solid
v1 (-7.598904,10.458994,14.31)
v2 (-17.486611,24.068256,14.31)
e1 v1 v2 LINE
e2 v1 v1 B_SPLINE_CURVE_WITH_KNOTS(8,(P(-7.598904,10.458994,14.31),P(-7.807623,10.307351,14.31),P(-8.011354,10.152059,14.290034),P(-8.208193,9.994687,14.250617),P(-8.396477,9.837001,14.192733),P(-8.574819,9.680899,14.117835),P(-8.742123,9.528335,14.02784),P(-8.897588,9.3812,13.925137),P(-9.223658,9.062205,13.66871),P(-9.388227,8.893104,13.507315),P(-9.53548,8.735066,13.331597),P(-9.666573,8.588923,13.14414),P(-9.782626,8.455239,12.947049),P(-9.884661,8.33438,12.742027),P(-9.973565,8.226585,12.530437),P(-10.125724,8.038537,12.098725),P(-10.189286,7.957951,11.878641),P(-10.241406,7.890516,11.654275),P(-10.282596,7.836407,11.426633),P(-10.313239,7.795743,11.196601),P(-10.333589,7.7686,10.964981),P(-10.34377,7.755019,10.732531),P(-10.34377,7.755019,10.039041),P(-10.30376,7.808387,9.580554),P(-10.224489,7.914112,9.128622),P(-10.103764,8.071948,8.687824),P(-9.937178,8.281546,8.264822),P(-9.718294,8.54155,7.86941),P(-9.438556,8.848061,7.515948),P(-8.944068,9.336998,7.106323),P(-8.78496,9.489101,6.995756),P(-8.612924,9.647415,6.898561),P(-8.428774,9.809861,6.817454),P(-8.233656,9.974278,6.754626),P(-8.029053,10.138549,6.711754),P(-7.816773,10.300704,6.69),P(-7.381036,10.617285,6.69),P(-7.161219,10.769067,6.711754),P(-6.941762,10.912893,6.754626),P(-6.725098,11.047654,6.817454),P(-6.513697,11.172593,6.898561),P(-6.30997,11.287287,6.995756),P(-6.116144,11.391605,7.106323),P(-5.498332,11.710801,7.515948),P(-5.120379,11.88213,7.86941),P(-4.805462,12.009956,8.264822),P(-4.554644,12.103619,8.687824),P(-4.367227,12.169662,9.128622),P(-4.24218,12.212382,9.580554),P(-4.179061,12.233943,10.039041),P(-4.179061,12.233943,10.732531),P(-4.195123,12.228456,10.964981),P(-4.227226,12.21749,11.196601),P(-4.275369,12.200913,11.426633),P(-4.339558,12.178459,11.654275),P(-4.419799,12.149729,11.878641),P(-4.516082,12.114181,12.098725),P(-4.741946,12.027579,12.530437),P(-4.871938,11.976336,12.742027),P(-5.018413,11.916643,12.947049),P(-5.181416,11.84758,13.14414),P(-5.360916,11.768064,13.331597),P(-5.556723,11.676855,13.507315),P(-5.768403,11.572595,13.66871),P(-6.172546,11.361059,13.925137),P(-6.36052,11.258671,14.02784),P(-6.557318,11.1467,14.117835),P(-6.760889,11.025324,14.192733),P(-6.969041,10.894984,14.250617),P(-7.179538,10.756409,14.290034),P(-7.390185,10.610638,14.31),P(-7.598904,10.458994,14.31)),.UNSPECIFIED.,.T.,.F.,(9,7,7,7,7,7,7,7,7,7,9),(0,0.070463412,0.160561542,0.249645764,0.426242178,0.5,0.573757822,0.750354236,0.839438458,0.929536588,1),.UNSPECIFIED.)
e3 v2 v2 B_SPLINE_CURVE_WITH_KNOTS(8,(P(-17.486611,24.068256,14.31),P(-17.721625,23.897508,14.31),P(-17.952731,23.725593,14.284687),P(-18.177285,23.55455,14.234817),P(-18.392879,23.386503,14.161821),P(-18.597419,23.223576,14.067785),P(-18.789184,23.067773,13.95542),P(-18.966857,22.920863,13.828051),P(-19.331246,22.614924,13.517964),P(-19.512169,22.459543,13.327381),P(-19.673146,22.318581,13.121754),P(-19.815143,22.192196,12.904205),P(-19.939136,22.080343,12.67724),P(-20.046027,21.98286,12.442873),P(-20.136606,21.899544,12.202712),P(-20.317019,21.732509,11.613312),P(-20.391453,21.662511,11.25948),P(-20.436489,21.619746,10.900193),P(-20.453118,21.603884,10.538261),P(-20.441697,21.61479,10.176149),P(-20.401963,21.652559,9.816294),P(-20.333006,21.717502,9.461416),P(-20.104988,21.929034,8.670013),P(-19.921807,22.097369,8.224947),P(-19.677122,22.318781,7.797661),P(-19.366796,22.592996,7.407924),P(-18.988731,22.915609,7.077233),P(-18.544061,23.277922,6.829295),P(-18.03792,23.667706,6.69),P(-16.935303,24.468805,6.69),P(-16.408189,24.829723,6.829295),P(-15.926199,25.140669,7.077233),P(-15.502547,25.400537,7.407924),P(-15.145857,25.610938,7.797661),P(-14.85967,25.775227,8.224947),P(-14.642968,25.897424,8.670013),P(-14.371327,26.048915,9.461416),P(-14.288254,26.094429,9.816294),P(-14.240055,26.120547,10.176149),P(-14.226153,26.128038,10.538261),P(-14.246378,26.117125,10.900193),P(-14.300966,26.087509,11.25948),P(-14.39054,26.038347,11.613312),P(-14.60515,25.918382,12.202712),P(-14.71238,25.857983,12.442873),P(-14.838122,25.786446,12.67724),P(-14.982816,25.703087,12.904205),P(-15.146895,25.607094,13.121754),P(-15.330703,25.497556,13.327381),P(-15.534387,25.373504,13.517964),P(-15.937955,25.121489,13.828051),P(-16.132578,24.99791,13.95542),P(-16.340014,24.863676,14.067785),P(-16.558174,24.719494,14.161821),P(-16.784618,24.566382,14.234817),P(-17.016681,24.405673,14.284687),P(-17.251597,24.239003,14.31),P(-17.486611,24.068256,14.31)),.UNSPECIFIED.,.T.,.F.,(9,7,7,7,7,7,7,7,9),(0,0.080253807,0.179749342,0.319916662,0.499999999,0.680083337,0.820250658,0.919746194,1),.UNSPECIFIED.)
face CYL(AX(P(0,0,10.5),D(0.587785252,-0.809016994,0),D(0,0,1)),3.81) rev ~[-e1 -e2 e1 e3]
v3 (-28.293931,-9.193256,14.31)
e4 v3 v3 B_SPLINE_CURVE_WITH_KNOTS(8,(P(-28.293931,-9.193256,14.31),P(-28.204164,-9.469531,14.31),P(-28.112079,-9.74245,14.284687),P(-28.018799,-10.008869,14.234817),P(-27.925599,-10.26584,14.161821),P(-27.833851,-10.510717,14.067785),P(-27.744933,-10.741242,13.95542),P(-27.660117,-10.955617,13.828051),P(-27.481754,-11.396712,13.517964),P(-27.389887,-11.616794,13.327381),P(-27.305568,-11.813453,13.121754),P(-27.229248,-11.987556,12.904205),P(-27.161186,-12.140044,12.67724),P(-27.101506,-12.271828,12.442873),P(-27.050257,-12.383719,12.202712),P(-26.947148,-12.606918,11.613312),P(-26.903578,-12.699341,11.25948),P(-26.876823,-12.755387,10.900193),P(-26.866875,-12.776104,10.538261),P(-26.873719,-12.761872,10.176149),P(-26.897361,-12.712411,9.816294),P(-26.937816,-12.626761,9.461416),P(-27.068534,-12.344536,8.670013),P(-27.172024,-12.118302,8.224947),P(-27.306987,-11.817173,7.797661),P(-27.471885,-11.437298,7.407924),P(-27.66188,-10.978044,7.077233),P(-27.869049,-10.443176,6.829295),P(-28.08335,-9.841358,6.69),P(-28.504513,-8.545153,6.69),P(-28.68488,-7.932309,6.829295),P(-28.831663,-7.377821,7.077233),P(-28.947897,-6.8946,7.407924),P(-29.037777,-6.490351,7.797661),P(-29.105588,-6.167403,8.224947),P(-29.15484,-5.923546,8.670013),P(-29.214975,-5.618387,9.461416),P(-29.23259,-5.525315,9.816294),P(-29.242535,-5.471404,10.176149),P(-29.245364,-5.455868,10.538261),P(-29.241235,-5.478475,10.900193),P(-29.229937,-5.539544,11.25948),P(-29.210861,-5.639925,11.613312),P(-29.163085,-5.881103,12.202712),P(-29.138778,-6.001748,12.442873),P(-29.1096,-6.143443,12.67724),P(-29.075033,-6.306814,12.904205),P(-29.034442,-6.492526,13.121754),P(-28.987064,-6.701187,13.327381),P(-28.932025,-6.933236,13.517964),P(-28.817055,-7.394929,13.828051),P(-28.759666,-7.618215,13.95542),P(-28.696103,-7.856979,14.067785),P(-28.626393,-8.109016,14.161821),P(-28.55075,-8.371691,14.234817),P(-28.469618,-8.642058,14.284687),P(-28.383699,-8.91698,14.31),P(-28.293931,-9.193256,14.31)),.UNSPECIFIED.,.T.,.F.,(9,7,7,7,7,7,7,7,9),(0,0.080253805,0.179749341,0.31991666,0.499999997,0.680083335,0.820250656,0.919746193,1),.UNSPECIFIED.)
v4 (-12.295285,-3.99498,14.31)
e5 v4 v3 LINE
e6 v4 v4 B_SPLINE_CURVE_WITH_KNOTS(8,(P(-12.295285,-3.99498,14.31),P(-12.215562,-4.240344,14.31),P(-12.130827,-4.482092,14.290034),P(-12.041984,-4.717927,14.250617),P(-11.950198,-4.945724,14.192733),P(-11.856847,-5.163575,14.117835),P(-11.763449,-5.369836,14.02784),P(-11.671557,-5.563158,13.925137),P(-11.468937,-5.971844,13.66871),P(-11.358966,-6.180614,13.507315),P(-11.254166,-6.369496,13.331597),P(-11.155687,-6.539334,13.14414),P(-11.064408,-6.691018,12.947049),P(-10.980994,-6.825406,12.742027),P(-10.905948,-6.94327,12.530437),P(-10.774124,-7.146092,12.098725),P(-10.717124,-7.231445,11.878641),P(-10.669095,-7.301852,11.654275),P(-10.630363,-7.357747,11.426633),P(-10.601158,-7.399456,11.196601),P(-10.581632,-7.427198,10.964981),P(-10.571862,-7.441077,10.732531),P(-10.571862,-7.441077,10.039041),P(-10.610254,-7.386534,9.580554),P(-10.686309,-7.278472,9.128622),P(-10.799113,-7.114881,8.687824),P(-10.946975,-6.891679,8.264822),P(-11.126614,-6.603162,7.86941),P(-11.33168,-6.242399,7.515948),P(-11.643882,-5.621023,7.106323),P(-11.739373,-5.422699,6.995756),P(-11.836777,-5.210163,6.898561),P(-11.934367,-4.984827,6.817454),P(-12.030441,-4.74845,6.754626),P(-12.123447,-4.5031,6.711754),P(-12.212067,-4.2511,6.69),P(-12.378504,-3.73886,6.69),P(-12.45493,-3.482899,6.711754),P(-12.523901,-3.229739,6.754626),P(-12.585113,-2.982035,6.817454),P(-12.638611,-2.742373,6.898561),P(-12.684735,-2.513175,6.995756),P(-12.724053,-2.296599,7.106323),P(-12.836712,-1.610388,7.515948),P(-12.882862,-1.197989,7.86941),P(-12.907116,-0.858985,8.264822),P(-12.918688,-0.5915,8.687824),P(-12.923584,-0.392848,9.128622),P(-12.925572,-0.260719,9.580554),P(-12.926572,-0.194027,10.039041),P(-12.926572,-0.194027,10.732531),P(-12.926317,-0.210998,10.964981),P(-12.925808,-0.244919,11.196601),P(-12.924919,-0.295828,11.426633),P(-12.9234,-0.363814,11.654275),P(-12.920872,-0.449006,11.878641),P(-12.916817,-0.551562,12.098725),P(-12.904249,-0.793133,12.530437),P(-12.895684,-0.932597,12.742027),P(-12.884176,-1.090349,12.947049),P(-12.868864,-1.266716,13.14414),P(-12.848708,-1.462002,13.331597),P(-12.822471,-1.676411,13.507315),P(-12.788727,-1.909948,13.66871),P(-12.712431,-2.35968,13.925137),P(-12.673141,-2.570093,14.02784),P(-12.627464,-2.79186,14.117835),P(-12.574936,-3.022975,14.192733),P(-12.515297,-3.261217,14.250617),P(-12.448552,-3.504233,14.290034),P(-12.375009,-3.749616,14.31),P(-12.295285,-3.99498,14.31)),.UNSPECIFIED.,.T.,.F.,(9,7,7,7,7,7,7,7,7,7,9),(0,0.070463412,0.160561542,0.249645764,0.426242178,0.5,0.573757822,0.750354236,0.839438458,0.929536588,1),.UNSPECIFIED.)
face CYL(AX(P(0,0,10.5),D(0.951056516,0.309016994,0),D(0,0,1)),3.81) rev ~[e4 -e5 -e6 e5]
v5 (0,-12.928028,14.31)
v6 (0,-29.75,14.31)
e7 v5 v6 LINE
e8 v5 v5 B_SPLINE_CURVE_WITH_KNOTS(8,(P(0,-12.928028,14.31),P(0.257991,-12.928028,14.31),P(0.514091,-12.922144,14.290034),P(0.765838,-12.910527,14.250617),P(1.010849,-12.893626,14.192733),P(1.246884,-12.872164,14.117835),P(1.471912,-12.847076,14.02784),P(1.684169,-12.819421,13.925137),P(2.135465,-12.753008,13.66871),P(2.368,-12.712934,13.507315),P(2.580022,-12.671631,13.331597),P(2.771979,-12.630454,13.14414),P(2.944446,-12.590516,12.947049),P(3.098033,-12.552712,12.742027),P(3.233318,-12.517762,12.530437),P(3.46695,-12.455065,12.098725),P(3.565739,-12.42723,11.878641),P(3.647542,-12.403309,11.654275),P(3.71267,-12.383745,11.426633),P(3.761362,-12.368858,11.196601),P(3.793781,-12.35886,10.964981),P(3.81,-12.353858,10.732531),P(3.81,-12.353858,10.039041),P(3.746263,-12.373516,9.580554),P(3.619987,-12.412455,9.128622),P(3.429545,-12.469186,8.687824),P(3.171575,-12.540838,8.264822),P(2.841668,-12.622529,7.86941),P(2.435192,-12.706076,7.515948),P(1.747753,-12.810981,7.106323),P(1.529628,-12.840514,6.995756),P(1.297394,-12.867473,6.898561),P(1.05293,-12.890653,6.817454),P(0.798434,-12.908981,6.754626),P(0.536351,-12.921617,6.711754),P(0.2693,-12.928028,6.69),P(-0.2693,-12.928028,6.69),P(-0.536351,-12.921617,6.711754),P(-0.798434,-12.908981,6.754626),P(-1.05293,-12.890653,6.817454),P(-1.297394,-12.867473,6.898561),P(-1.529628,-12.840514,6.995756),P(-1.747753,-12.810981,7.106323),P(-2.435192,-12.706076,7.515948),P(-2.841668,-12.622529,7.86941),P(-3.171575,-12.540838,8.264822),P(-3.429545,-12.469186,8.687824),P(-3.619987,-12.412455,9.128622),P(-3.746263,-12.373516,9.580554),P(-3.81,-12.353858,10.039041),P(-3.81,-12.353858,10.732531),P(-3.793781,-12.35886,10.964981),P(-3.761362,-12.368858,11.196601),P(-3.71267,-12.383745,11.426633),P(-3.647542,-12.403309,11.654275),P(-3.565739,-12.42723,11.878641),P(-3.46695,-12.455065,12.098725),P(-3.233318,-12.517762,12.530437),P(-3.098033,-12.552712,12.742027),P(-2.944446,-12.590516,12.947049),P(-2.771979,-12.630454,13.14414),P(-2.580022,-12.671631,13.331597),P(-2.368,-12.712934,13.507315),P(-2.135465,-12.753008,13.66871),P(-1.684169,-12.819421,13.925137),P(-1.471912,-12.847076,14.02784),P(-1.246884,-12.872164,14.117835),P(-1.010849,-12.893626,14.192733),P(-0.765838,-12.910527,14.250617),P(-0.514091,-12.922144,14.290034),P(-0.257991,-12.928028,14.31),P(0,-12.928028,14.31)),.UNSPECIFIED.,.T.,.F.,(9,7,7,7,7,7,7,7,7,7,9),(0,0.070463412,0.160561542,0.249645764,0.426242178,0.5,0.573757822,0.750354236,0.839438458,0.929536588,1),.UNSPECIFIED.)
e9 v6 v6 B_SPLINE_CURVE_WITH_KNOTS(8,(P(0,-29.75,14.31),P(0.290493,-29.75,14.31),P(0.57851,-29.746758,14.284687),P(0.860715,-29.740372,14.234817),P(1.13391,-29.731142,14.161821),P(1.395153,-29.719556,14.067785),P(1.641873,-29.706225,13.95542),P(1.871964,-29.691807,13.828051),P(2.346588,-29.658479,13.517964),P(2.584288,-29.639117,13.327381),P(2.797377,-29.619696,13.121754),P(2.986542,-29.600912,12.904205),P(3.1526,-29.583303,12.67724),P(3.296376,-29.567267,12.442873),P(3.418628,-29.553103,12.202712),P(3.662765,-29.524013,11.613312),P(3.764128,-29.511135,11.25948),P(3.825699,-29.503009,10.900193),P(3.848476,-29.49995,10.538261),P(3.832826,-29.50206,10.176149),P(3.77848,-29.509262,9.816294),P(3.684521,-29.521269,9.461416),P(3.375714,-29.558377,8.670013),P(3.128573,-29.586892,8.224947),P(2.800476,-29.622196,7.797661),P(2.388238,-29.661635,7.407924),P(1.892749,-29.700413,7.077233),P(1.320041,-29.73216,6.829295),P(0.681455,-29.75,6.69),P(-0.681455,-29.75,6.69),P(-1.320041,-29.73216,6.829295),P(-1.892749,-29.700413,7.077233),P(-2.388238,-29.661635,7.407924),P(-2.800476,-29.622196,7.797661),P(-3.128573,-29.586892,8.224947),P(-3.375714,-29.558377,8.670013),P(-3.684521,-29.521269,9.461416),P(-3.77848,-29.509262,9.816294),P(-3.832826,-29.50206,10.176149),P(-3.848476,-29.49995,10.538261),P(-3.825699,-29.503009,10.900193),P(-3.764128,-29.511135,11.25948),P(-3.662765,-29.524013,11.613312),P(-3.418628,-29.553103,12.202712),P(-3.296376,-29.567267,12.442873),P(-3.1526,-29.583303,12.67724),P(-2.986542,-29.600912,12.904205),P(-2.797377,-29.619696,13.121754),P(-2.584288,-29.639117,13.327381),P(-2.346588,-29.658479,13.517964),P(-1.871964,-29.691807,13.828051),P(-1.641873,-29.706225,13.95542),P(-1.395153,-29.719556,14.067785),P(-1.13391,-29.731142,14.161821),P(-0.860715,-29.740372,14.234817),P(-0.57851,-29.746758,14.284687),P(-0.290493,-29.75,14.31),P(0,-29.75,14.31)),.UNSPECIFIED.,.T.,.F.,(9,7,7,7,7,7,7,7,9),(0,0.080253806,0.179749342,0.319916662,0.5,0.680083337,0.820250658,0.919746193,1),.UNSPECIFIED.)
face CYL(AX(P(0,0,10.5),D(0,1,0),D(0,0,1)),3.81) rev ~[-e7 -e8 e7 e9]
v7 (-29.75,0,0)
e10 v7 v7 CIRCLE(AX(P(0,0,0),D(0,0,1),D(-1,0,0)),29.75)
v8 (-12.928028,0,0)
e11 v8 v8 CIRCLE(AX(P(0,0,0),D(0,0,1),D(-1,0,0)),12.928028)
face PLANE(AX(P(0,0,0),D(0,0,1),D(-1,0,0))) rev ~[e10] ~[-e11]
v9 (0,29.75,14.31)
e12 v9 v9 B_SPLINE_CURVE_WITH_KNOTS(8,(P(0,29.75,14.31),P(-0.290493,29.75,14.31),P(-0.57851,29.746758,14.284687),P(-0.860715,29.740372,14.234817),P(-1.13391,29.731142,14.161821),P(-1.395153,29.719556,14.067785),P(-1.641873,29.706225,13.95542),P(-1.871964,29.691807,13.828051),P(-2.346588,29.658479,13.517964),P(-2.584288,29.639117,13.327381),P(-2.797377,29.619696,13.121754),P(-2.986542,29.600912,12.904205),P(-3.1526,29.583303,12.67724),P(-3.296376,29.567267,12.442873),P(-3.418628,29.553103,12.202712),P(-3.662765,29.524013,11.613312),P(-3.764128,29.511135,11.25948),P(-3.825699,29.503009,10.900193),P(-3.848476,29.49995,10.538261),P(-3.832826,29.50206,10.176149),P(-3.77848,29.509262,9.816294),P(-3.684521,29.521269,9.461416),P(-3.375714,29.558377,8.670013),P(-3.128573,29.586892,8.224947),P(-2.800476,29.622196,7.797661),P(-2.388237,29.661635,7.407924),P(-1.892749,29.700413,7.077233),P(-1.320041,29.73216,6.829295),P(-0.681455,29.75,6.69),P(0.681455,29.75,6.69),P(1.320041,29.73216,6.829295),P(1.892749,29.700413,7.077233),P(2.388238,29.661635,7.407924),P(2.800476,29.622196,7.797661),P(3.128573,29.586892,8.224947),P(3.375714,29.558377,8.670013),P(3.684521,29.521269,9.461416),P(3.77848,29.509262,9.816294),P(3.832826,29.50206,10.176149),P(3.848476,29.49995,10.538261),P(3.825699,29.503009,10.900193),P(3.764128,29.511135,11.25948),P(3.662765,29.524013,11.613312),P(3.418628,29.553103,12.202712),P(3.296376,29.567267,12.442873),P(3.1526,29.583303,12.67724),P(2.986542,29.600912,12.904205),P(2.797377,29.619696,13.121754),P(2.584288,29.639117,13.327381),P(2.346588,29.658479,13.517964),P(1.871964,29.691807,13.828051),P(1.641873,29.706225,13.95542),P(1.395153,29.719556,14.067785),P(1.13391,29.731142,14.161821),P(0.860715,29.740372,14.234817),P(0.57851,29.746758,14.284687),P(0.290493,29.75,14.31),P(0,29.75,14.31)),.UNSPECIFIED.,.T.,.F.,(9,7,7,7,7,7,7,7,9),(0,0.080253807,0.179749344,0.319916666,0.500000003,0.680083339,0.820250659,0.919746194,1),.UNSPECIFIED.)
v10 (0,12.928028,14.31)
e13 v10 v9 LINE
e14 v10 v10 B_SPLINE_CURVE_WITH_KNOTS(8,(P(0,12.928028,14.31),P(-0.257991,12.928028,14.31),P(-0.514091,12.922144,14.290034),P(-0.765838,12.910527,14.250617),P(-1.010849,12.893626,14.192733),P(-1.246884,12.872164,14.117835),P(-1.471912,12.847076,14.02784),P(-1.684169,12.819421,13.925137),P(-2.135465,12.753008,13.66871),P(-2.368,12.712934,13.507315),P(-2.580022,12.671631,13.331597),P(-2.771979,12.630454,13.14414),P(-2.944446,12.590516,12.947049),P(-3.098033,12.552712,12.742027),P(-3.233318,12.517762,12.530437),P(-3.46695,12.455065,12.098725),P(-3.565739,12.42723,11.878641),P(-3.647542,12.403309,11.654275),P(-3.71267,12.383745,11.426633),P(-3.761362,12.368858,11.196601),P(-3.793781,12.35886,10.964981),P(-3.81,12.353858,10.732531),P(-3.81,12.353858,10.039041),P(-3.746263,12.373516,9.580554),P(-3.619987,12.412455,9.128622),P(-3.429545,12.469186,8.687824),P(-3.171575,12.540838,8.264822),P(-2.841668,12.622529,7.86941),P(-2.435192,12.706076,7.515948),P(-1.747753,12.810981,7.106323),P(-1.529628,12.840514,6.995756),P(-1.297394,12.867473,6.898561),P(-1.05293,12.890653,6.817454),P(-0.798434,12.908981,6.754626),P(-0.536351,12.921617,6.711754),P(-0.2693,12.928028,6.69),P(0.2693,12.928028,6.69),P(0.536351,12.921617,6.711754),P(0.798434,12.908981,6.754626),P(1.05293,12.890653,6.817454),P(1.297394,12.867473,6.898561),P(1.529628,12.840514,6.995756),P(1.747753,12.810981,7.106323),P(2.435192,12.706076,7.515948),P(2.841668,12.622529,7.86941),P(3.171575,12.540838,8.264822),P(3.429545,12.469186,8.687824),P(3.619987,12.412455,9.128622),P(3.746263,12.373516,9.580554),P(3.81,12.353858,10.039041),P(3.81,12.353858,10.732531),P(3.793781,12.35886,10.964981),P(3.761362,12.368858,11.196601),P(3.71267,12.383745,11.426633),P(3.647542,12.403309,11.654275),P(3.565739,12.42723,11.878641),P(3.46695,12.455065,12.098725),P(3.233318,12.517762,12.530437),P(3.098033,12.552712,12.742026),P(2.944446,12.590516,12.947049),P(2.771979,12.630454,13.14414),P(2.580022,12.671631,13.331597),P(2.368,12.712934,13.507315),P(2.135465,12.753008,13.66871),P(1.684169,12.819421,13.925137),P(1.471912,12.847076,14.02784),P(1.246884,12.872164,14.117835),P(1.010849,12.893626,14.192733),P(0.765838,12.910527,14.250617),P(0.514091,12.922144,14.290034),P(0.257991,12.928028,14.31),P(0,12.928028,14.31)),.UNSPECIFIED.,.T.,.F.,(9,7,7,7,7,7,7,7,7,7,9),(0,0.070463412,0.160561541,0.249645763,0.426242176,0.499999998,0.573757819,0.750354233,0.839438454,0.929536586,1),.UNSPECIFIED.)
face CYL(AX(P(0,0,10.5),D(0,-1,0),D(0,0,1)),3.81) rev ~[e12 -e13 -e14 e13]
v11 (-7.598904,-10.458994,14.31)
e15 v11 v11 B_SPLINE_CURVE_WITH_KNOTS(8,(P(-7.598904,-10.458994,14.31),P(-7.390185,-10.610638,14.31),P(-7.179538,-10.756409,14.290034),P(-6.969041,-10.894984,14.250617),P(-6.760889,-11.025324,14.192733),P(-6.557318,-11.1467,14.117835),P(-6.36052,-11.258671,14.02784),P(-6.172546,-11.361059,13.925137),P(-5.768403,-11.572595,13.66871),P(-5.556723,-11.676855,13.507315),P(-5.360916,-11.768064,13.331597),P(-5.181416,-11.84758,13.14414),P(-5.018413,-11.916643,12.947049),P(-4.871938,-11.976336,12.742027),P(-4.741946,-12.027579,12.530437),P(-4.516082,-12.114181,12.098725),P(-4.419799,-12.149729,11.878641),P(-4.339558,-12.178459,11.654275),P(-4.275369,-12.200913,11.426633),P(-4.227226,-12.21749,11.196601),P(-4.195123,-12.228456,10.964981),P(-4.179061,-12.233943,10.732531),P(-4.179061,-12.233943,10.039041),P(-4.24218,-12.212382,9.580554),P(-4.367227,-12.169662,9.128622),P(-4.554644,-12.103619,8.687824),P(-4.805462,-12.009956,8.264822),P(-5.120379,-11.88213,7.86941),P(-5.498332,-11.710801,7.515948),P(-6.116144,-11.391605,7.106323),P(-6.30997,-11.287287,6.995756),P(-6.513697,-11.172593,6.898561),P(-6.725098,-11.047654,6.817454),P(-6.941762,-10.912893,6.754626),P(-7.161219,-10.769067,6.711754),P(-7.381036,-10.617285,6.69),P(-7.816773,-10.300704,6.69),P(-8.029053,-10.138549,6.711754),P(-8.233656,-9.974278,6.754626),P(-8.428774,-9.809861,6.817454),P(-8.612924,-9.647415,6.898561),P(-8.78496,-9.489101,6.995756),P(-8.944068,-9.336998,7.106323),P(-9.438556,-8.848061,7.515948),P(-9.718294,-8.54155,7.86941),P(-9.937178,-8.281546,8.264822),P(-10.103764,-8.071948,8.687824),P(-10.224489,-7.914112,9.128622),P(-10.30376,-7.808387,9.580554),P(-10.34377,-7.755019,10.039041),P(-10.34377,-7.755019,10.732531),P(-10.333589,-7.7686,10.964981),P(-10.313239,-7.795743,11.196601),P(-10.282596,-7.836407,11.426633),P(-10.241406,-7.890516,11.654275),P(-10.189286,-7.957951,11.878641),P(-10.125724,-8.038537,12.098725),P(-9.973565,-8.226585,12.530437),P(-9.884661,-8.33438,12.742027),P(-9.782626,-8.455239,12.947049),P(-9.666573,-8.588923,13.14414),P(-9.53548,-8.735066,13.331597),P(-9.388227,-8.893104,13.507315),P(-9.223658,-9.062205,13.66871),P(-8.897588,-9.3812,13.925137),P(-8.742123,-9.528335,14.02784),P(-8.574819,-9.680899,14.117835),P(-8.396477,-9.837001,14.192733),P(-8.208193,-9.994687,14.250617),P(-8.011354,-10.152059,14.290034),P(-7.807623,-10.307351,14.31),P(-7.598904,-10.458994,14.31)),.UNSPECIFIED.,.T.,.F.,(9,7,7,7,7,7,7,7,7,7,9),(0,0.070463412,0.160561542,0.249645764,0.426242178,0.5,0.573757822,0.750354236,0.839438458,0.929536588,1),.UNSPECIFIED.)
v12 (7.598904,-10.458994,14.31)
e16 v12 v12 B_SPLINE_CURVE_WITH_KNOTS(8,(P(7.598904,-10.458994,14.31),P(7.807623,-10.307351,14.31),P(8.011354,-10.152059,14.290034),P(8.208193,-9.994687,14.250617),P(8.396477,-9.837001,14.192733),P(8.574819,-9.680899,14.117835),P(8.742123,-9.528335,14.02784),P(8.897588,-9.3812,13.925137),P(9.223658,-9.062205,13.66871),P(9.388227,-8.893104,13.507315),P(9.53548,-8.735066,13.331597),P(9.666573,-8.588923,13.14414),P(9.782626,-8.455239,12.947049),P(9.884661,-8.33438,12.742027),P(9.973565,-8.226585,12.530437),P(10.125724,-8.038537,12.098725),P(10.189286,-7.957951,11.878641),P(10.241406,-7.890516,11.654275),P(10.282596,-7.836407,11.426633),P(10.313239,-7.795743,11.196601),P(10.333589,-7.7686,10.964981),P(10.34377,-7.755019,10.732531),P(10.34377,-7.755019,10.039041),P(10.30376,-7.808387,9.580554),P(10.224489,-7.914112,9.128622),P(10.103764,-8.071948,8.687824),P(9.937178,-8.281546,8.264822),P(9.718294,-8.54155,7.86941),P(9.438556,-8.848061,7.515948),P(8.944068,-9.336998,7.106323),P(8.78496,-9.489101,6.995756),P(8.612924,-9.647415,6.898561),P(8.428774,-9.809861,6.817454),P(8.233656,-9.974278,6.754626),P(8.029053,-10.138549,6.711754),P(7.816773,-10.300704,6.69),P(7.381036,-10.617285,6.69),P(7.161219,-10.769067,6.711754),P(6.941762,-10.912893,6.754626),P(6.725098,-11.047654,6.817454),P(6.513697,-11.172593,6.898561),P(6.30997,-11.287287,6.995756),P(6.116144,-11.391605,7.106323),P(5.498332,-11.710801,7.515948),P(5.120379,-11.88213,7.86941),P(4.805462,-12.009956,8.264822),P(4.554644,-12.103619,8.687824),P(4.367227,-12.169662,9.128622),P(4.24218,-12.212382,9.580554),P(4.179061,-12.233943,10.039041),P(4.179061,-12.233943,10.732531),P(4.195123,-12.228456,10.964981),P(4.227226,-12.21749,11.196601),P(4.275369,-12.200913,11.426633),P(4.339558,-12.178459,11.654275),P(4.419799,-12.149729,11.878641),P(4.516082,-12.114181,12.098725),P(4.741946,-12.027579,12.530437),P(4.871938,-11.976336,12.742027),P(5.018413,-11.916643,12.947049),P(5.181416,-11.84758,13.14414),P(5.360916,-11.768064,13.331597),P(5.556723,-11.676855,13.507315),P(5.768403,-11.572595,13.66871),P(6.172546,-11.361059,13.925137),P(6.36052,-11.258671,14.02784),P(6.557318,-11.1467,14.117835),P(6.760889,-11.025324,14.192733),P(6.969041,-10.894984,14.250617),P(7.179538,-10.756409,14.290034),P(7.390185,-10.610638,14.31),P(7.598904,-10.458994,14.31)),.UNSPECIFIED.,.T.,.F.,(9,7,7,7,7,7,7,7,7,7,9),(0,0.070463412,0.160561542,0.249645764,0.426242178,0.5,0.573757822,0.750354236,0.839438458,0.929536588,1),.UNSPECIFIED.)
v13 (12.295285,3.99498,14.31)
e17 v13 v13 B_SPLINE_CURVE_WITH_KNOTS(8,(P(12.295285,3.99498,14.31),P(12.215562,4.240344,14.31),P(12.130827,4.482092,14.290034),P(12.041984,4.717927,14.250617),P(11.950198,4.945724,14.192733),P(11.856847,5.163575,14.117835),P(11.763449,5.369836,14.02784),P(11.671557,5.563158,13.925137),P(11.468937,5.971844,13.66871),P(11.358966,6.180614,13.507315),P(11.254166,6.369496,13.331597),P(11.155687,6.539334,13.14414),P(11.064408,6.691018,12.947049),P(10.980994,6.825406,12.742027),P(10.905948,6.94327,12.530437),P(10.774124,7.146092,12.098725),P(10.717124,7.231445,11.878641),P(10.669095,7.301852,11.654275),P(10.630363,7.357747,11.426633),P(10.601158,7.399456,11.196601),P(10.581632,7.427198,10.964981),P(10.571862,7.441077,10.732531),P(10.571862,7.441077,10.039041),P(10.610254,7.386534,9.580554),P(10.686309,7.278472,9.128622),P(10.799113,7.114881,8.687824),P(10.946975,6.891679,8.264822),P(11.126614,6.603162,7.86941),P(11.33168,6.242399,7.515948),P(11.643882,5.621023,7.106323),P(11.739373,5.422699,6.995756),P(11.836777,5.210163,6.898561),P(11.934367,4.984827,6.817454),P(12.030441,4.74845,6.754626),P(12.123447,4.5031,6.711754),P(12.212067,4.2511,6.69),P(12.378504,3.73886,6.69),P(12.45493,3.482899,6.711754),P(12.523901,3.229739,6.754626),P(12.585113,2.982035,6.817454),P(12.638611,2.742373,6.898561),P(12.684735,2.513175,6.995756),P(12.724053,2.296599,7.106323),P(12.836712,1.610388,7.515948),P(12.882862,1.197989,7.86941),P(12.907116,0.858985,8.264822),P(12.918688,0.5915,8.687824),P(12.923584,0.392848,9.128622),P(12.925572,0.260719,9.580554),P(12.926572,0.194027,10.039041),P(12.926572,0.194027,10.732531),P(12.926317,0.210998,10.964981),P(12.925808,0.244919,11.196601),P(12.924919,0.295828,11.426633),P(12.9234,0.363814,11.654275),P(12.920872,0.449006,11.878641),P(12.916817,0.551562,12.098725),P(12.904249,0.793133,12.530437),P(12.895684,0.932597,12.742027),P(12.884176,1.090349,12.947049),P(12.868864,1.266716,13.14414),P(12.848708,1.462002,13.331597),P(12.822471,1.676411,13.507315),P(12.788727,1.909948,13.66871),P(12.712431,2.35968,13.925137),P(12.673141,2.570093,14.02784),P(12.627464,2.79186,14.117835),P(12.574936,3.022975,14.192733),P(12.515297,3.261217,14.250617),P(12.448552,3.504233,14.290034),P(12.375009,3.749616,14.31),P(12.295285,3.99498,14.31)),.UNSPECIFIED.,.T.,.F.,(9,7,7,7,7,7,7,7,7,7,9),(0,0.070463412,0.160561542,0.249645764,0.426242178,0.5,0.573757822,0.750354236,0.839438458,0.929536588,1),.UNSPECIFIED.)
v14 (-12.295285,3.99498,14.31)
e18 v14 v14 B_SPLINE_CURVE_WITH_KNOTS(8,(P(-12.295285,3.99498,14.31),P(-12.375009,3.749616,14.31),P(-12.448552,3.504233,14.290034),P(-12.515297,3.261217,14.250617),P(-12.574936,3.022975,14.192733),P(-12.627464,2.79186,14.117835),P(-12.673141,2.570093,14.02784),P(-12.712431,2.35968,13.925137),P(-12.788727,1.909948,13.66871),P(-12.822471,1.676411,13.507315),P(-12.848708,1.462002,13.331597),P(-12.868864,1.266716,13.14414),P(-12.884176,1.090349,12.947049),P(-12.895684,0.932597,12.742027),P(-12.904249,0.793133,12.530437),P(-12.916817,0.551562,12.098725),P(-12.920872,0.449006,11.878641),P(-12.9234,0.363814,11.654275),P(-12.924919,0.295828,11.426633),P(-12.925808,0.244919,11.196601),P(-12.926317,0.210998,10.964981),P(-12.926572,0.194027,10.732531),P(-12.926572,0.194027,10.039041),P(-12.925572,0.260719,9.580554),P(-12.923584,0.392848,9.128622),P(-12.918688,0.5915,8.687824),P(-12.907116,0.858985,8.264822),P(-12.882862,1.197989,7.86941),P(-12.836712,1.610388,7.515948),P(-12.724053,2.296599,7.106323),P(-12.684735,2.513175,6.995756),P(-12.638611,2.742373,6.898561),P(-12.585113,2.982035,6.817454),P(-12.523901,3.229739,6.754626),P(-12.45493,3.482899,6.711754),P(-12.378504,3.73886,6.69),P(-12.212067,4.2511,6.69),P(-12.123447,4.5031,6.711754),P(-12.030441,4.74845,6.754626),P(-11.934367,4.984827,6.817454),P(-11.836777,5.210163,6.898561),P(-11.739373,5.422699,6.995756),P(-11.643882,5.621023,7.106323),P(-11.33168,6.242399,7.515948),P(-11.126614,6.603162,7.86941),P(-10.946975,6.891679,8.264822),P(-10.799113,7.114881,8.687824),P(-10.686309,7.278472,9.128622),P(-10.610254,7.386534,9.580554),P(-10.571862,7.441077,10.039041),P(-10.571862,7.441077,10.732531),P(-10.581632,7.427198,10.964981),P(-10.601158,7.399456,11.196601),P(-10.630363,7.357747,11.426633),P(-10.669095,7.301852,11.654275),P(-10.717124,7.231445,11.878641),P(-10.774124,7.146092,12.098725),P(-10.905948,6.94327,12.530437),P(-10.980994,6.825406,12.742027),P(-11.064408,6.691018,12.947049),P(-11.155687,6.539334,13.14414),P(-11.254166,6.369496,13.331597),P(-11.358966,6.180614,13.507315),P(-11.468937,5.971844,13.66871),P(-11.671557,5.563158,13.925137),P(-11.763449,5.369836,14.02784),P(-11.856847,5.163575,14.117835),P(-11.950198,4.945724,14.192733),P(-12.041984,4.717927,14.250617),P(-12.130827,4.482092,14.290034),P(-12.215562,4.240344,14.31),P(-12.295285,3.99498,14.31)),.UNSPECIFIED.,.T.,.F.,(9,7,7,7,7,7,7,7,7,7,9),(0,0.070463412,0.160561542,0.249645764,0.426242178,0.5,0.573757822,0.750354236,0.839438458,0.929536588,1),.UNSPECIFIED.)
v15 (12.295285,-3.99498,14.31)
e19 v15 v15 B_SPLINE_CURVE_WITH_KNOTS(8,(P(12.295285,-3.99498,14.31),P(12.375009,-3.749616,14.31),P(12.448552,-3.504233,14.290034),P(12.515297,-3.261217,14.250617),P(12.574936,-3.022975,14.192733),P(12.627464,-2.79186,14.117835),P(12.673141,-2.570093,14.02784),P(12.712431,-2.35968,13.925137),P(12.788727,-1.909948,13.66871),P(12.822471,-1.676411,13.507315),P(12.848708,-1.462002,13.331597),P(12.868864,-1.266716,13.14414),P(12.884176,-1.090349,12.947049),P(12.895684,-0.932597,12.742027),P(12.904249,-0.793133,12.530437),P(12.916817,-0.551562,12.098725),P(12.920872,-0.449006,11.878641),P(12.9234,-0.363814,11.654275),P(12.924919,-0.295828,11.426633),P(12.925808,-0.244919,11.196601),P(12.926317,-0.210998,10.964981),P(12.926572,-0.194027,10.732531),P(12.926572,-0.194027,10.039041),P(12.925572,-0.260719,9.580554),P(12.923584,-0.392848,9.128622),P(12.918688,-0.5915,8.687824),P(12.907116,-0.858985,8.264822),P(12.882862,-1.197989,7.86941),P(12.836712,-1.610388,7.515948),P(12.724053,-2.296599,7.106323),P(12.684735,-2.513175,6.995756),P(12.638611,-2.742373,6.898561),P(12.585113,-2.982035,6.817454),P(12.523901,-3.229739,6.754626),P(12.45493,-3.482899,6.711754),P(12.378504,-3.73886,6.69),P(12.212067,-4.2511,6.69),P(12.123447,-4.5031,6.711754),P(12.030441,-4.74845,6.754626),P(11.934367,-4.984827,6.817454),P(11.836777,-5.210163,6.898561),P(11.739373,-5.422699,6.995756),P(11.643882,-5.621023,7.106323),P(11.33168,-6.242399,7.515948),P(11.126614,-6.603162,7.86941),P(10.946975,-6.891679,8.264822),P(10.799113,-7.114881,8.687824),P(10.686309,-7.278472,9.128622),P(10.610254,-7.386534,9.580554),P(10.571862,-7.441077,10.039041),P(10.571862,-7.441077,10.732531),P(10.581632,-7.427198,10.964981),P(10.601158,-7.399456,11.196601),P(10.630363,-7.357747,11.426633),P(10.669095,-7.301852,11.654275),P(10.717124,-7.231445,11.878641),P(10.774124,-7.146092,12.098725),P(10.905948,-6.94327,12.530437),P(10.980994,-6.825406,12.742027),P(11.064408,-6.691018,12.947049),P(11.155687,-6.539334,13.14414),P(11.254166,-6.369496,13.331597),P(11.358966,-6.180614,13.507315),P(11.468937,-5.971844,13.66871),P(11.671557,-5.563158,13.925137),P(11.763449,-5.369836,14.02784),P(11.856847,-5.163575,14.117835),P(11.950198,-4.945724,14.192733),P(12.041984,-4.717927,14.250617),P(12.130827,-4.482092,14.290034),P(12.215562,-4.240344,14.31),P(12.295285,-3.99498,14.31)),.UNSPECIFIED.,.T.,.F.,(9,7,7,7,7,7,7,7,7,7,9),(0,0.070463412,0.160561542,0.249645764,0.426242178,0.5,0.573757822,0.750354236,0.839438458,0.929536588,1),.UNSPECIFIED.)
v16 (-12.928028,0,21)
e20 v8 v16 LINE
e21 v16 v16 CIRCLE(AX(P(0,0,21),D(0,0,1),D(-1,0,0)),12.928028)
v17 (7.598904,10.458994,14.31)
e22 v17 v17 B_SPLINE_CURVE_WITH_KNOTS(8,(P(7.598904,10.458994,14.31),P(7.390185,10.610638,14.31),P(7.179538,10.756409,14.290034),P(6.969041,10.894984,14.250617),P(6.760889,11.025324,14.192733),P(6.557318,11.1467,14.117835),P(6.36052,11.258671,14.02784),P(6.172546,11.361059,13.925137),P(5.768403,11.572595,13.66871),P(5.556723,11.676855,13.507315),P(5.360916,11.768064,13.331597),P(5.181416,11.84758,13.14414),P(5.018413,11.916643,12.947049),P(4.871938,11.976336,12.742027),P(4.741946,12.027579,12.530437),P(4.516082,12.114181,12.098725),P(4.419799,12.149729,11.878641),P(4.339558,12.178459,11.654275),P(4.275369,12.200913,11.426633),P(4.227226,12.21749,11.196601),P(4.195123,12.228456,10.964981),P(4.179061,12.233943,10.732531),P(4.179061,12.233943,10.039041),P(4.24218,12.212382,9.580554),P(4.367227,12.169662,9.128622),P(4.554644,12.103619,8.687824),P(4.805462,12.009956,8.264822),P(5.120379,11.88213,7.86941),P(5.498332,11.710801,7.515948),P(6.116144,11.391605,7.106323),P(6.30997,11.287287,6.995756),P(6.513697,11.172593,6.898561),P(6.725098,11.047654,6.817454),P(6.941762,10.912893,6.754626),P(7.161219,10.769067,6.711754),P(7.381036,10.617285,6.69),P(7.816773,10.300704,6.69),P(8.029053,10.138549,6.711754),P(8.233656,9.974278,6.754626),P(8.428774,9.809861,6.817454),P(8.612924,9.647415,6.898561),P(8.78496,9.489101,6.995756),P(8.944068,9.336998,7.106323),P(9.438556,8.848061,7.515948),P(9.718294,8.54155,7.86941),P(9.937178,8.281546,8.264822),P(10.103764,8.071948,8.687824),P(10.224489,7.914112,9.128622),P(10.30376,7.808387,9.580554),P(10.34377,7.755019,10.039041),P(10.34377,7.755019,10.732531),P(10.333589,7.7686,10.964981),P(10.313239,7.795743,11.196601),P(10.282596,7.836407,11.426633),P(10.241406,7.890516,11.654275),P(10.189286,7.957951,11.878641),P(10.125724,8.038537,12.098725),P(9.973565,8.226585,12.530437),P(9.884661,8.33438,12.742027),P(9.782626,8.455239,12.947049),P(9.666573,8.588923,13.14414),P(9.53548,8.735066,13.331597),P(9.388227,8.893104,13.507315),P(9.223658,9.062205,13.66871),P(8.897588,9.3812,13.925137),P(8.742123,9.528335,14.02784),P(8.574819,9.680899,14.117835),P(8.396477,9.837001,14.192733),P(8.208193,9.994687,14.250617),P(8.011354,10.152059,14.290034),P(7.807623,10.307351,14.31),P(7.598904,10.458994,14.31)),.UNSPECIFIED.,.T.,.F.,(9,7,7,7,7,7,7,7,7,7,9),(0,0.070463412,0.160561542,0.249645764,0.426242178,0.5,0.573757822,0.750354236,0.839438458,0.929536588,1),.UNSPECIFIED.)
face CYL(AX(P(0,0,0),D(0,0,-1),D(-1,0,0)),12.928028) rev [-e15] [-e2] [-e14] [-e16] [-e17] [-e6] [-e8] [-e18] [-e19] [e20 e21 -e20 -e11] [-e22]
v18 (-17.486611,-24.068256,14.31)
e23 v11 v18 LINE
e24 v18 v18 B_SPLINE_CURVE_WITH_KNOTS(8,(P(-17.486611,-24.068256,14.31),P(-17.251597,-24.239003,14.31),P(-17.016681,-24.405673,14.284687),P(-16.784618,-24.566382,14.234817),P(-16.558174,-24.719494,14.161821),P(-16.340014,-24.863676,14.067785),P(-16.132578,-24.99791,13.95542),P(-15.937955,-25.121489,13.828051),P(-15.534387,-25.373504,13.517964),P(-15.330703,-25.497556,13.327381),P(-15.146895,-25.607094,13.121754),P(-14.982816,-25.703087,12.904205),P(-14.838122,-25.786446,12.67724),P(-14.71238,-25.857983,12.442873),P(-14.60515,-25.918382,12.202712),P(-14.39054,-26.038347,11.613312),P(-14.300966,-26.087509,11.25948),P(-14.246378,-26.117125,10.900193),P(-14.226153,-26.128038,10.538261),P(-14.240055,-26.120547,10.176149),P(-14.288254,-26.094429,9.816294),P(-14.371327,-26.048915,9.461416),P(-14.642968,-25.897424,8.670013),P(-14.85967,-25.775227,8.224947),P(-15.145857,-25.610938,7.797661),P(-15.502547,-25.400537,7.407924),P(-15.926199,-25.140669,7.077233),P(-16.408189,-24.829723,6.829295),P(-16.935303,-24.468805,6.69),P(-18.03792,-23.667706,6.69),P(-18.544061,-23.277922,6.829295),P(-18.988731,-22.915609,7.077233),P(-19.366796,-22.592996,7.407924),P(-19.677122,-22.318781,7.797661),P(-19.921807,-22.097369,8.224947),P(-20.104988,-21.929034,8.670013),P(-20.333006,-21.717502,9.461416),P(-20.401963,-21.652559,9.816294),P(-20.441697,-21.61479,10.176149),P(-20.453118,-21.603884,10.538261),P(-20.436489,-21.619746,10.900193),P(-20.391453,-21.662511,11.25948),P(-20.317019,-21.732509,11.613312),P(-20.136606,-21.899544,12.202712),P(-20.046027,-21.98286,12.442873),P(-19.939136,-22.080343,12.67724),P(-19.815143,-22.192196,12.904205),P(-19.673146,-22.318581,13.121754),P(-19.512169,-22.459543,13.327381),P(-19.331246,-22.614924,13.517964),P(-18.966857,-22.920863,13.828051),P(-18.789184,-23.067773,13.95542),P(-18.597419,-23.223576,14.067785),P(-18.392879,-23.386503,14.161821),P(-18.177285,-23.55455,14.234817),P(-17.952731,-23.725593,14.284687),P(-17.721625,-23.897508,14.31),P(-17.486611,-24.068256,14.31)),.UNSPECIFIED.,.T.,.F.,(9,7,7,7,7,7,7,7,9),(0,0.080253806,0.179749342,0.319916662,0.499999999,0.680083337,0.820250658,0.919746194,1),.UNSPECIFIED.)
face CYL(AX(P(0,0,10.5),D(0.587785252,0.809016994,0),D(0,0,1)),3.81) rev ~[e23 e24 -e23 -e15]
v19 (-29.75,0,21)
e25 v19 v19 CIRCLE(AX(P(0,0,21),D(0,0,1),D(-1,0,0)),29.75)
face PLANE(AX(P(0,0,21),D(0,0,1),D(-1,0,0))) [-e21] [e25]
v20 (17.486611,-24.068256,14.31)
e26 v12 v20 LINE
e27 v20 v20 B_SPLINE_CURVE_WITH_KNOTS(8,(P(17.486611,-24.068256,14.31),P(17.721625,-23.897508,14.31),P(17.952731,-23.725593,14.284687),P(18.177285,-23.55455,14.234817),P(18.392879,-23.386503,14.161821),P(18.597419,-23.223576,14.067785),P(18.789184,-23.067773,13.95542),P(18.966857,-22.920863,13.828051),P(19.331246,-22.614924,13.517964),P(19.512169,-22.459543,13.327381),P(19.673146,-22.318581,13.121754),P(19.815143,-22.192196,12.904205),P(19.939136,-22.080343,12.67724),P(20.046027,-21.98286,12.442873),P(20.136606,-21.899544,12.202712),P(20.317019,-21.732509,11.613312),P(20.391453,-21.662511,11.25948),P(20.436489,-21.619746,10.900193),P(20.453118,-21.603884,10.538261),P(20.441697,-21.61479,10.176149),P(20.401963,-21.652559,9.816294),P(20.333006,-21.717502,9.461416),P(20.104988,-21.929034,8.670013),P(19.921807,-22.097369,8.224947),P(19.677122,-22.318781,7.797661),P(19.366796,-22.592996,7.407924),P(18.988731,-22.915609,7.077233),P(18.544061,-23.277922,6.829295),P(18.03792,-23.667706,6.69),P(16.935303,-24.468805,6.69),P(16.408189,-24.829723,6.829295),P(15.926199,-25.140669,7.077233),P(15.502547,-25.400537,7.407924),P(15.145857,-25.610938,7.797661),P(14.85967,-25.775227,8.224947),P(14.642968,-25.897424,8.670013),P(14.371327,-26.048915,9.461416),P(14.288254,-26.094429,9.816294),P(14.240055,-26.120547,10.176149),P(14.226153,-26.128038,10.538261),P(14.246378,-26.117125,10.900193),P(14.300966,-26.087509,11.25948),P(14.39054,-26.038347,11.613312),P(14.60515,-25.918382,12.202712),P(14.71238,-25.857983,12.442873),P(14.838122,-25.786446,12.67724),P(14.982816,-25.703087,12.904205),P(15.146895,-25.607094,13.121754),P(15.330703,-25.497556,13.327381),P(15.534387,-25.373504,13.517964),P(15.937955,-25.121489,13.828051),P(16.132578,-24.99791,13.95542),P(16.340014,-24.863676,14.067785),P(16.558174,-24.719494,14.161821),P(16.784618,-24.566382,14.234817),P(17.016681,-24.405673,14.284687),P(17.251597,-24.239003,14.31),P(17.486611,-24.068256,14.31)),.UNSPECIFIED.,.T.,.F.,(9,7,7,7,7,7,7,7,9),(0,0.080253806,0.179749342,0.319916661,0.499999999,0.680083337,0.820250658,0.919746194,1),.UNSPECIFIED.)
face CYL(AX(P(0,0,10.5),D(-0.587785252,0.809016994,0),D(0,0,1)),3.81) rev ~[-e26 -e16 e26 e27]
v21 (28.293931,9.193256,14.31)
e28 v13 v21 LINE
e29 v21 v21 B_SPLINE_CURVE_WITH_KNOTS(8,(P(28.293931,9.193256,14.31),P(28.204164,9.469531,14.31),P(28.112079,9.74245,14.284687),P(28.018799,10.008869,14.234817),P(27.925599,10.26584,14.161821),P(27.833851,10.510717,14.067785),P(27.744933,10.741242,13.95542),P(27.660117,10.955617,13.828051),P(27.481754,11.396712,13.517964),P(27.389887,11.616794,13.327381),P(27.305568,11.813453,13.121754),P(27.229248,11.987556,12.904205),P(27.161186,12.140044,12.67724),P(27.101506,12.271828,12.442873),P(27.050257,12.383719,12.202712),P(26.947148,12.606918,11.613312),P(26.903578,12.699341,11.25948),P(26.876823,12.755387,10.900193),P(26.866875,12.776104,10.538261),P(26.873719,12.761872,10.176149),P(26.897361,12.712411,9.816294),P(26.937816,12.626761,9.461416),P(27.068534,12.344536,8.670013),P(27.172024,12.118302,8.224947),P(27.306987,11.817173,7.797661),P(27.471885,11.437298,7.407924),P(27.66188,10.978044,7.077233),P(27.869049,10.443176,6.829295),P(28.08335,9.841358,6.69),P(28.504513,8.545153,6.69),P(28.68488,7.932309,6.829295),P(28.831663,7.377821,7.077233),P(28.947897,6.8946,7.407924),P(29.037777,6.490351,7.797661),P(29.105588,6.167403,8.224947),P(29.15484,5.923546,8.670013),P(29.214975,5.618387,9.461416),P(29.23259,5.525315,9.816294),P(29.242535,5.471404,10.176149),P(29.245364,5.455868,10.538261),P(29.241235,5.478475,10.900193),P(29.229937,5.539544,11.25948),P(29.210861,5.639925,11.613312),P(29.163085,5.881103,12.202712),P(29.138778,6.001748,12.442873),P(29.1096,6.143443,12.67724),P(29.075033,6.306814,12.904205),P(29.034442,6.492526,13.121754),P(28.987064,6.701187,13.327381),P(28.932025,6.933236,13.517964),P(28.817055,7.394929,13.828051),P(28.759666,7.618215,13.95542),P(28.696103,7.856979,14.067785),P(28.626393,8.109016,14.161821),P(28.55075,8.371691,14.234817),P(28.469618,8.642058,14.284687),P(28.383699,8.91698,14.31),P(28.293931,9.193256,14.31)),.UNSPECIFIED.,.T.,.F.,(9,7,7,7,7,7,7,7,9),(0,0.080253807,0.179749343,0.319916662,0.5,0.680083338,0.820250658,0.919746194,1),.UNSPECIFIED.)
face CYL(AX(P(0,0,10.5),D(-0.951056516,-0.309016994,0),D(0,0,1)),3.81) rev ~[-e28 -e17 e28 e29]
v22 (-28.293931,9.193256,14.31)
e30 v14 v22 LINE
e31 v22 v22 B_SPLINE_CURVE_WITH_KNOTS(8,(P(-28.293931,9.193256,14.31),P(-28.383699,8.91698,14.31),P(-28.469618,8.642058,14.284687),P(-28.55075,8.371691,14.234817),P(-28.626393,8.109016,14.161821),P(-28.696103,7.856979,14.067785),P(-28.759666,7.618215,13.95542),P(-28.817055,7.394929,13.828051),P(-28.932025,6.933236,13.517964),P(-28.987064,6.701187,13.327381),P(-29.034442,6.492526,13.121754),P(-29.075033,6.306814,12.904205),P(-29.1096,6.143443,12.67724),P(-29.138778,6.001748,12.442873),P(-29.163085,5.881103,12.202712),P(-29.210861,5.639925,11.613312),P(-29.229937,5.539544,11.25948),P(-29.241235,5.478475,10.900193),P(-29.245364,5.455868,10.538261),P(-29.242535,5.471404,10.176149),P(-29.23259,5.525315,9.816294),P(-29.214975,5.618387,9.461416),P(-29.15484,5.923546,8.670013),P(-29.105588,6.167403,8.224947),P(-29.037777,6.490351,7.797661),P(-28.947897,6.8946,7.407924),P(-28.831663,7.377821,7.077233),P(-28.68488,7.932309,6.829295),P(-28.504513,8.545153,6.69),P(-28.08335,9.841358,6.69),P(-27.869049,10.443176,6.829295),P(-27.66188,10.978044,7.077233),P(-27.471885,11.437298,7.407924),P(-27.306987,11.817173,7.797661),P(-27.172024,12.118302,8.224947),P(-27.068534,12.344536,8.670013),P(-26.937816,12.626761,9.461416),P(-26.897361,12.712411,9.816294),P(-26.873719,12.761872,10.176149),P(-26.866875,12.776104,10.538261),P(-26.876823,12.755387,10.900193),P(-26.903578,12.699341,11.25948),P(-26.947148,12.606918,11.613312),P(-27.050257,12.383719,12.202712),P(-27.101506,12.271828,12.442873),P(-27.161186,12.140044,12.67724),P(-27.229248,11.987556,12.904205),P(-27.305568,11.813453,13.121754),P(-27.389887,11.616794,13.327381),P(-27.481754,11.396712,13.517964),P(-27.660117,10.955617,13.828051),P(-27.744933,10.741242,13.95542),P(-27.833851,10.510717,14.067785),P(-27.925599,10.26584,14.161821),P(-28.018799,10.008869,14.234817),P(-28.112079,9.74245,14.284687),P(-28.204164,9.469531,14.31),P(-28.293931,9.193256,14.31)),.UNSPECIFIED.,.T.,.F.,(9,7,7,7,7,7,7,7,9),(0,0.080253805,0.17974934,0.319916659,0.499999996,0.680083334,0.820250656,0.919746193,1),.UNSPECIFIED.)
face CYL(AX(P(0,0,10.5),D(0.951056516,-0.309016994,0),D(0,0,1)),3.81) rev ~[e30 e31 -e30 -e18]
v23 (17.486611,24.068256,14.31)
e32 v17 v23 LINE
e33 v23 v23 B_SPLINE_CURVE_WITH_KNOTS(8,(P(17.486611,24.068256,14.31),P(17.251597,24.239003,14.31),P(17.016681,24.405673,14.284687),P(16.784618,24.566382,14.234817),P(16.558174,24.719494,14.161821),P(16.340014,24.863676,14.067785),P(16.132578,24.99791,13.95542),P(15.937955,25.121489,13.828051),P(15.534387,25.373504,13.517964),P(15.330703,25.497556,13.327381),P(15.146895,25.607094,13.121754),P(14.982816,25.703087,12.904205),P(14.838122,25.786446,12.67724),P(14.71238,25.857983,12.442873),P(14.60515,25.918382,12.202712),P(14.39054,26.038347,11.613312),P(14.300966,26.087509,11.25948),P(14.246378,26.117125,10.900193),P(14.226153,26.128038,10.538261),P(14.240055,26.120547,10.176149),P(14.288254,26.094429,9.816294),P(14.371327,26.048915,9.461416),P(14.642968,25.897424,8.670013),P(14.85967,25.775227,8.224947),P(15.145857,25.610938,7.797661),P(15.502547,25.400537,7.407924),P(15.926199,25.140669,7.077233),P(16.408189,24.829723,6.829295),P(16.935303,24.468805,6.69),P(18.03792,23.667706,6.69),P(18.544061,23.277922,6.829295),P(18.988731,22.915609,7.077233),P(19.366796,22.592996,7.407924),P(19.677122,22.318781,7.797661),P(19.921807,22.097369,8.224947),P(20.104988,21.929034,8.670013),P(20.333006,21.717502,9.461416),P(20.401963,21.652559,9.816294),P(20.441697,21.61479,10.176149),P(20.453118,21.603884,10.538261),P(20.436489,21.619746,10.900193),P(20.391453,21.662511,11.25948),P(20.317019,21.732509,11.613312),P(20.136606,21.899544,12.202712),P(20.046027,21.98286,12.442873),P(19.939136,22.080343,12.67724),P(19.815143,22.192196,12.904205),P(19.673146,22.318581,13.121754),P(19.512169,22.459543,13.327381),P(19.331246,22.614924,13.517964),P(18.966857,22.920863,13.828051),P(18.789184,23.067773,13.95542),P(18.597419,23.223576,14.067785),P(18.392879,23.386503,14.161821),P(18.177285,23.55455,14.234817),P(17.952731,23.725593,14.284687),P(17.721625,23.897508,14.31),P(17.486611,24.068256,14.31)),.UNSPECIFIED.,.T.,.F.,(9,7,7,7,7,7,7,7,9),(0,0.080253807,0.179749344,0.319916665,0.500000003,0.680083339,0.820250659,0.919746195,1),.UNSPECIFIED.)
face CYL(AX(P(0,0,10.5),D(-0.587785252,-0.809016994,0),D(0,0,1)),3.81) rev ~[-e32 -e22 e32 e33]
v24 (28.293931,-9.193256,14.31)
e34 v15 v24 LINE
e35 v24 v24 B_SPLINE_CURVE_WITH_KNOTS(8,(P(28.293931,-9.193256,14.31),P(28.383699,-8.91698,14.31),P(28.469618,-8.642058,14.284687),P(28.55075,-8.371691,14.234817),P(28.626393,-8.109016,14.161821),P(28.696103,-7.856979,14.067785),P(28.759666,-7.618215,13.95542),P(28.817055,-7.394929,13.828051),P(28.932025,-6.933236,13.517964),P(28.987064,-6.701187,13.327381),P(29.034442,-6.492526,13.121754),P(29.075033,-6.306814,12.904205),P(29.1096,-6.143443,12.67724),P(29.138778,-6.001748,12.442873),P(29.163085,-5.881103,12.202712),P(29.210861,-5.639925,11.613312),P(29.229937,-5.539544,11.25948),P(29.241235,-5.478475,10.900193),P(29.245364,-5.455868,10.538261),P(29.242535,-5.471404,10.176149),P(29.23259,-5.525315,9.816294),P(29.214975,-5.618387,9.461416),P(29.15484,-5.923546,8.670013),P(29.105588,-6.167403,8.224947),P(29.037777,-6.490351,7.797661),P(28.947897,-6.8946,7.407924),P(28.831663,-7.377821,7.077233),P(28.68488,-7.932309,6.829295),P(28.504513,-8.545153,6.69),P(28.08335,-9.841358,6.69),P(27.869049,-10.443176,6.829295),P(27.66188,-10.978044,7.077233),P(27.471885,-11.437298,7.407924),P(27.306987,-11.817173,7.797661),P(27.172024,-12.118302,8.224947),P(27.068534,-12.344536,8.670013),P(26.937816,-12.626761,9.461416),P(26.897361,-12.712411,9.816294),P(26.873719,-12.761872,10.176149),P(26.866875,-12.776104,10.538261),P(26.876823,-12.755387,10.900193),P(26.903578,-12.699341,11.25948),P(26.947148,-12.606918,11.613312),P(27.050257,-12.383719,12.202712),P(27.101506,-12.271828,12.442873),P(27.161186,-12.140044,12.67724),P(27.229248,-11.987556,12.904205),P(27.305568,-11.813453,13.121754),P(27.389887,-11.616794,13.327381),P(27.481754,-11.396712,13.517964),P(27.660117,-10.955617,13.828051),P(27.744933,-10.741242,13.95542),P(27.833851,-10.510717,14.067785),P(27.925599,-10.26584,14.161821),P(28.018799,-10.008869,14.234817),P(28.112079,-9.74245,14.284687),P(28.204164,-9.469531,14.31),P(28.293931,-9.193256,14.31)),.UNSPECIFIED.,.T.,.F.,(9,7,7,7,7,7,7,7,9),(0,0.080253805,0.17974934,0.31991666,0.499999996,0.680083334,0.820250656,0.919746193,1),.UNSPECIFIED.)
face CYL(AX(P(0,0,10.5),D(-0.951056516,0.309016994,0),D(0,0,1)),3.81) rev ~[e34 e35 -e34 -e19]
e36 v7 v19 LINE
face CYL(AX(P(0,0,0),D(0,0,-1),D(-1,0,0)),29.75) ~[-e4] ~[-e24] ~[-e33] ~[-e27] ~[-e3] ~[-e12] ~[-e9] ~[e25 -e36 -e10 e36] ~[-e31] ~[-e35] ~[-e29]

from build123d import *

# Parameters (mm, degrees)
SKETCH1_R           = 29.75
SKETCH1_R_2         = 12.928028004
BOSS_EXTRUDE1_DEPTH = 21
SKETCH3_R           = 3.81
CUT_EXTRUDE1_DEPTH  = 31
CIRPATTERN1_COUNT   = 10


with BuildPart() as part:
    # Sketch1 → Boss-Extrude1 (new body)
    with BuildSketch(Plane.XY):
        with Locations(Location((0, 0, 0), (0, 0, 180))):
            Circle(SKETCH1_R)
        with Locations(Location((0, 0, 0), (0, 0, 180))):
            Circle(SKETCH1_R_2, mode=Mode.SUBTRACT)
    extrude(amount=BOSS_EXTRUDE1_DEPTH)

    # Sketch3 → Cut-Extrude1 (cut)
    with BuildSketch(Plane(origin=(0, 0, 0), x_dir=(1, 0, 0), z_dir=(0, 1, 0))):
        with Locations(Location((0, -10.5, 0), (0, 0, 270))):
            Circle(SKETCH3_R)
    cut_extrude1 = extrude(amount=-CUT_EXTRUDE1_DEPTH, mode=Mode.SUBTRACT)

    # CirPattern1: Cut-Extrude1 ×10 about axis
    cirpattern1_axis = Axis((0, 0, 21), (0, 0, -1))
    for i in range(1, CIRPATTERN1_COUNT):
        add(cut_extrude1.rotate(cirpattern1_axis, i * 360 / CIRPATTERN1_COUNT), mode=Mode.SUBTRACT)


solid = part.part
